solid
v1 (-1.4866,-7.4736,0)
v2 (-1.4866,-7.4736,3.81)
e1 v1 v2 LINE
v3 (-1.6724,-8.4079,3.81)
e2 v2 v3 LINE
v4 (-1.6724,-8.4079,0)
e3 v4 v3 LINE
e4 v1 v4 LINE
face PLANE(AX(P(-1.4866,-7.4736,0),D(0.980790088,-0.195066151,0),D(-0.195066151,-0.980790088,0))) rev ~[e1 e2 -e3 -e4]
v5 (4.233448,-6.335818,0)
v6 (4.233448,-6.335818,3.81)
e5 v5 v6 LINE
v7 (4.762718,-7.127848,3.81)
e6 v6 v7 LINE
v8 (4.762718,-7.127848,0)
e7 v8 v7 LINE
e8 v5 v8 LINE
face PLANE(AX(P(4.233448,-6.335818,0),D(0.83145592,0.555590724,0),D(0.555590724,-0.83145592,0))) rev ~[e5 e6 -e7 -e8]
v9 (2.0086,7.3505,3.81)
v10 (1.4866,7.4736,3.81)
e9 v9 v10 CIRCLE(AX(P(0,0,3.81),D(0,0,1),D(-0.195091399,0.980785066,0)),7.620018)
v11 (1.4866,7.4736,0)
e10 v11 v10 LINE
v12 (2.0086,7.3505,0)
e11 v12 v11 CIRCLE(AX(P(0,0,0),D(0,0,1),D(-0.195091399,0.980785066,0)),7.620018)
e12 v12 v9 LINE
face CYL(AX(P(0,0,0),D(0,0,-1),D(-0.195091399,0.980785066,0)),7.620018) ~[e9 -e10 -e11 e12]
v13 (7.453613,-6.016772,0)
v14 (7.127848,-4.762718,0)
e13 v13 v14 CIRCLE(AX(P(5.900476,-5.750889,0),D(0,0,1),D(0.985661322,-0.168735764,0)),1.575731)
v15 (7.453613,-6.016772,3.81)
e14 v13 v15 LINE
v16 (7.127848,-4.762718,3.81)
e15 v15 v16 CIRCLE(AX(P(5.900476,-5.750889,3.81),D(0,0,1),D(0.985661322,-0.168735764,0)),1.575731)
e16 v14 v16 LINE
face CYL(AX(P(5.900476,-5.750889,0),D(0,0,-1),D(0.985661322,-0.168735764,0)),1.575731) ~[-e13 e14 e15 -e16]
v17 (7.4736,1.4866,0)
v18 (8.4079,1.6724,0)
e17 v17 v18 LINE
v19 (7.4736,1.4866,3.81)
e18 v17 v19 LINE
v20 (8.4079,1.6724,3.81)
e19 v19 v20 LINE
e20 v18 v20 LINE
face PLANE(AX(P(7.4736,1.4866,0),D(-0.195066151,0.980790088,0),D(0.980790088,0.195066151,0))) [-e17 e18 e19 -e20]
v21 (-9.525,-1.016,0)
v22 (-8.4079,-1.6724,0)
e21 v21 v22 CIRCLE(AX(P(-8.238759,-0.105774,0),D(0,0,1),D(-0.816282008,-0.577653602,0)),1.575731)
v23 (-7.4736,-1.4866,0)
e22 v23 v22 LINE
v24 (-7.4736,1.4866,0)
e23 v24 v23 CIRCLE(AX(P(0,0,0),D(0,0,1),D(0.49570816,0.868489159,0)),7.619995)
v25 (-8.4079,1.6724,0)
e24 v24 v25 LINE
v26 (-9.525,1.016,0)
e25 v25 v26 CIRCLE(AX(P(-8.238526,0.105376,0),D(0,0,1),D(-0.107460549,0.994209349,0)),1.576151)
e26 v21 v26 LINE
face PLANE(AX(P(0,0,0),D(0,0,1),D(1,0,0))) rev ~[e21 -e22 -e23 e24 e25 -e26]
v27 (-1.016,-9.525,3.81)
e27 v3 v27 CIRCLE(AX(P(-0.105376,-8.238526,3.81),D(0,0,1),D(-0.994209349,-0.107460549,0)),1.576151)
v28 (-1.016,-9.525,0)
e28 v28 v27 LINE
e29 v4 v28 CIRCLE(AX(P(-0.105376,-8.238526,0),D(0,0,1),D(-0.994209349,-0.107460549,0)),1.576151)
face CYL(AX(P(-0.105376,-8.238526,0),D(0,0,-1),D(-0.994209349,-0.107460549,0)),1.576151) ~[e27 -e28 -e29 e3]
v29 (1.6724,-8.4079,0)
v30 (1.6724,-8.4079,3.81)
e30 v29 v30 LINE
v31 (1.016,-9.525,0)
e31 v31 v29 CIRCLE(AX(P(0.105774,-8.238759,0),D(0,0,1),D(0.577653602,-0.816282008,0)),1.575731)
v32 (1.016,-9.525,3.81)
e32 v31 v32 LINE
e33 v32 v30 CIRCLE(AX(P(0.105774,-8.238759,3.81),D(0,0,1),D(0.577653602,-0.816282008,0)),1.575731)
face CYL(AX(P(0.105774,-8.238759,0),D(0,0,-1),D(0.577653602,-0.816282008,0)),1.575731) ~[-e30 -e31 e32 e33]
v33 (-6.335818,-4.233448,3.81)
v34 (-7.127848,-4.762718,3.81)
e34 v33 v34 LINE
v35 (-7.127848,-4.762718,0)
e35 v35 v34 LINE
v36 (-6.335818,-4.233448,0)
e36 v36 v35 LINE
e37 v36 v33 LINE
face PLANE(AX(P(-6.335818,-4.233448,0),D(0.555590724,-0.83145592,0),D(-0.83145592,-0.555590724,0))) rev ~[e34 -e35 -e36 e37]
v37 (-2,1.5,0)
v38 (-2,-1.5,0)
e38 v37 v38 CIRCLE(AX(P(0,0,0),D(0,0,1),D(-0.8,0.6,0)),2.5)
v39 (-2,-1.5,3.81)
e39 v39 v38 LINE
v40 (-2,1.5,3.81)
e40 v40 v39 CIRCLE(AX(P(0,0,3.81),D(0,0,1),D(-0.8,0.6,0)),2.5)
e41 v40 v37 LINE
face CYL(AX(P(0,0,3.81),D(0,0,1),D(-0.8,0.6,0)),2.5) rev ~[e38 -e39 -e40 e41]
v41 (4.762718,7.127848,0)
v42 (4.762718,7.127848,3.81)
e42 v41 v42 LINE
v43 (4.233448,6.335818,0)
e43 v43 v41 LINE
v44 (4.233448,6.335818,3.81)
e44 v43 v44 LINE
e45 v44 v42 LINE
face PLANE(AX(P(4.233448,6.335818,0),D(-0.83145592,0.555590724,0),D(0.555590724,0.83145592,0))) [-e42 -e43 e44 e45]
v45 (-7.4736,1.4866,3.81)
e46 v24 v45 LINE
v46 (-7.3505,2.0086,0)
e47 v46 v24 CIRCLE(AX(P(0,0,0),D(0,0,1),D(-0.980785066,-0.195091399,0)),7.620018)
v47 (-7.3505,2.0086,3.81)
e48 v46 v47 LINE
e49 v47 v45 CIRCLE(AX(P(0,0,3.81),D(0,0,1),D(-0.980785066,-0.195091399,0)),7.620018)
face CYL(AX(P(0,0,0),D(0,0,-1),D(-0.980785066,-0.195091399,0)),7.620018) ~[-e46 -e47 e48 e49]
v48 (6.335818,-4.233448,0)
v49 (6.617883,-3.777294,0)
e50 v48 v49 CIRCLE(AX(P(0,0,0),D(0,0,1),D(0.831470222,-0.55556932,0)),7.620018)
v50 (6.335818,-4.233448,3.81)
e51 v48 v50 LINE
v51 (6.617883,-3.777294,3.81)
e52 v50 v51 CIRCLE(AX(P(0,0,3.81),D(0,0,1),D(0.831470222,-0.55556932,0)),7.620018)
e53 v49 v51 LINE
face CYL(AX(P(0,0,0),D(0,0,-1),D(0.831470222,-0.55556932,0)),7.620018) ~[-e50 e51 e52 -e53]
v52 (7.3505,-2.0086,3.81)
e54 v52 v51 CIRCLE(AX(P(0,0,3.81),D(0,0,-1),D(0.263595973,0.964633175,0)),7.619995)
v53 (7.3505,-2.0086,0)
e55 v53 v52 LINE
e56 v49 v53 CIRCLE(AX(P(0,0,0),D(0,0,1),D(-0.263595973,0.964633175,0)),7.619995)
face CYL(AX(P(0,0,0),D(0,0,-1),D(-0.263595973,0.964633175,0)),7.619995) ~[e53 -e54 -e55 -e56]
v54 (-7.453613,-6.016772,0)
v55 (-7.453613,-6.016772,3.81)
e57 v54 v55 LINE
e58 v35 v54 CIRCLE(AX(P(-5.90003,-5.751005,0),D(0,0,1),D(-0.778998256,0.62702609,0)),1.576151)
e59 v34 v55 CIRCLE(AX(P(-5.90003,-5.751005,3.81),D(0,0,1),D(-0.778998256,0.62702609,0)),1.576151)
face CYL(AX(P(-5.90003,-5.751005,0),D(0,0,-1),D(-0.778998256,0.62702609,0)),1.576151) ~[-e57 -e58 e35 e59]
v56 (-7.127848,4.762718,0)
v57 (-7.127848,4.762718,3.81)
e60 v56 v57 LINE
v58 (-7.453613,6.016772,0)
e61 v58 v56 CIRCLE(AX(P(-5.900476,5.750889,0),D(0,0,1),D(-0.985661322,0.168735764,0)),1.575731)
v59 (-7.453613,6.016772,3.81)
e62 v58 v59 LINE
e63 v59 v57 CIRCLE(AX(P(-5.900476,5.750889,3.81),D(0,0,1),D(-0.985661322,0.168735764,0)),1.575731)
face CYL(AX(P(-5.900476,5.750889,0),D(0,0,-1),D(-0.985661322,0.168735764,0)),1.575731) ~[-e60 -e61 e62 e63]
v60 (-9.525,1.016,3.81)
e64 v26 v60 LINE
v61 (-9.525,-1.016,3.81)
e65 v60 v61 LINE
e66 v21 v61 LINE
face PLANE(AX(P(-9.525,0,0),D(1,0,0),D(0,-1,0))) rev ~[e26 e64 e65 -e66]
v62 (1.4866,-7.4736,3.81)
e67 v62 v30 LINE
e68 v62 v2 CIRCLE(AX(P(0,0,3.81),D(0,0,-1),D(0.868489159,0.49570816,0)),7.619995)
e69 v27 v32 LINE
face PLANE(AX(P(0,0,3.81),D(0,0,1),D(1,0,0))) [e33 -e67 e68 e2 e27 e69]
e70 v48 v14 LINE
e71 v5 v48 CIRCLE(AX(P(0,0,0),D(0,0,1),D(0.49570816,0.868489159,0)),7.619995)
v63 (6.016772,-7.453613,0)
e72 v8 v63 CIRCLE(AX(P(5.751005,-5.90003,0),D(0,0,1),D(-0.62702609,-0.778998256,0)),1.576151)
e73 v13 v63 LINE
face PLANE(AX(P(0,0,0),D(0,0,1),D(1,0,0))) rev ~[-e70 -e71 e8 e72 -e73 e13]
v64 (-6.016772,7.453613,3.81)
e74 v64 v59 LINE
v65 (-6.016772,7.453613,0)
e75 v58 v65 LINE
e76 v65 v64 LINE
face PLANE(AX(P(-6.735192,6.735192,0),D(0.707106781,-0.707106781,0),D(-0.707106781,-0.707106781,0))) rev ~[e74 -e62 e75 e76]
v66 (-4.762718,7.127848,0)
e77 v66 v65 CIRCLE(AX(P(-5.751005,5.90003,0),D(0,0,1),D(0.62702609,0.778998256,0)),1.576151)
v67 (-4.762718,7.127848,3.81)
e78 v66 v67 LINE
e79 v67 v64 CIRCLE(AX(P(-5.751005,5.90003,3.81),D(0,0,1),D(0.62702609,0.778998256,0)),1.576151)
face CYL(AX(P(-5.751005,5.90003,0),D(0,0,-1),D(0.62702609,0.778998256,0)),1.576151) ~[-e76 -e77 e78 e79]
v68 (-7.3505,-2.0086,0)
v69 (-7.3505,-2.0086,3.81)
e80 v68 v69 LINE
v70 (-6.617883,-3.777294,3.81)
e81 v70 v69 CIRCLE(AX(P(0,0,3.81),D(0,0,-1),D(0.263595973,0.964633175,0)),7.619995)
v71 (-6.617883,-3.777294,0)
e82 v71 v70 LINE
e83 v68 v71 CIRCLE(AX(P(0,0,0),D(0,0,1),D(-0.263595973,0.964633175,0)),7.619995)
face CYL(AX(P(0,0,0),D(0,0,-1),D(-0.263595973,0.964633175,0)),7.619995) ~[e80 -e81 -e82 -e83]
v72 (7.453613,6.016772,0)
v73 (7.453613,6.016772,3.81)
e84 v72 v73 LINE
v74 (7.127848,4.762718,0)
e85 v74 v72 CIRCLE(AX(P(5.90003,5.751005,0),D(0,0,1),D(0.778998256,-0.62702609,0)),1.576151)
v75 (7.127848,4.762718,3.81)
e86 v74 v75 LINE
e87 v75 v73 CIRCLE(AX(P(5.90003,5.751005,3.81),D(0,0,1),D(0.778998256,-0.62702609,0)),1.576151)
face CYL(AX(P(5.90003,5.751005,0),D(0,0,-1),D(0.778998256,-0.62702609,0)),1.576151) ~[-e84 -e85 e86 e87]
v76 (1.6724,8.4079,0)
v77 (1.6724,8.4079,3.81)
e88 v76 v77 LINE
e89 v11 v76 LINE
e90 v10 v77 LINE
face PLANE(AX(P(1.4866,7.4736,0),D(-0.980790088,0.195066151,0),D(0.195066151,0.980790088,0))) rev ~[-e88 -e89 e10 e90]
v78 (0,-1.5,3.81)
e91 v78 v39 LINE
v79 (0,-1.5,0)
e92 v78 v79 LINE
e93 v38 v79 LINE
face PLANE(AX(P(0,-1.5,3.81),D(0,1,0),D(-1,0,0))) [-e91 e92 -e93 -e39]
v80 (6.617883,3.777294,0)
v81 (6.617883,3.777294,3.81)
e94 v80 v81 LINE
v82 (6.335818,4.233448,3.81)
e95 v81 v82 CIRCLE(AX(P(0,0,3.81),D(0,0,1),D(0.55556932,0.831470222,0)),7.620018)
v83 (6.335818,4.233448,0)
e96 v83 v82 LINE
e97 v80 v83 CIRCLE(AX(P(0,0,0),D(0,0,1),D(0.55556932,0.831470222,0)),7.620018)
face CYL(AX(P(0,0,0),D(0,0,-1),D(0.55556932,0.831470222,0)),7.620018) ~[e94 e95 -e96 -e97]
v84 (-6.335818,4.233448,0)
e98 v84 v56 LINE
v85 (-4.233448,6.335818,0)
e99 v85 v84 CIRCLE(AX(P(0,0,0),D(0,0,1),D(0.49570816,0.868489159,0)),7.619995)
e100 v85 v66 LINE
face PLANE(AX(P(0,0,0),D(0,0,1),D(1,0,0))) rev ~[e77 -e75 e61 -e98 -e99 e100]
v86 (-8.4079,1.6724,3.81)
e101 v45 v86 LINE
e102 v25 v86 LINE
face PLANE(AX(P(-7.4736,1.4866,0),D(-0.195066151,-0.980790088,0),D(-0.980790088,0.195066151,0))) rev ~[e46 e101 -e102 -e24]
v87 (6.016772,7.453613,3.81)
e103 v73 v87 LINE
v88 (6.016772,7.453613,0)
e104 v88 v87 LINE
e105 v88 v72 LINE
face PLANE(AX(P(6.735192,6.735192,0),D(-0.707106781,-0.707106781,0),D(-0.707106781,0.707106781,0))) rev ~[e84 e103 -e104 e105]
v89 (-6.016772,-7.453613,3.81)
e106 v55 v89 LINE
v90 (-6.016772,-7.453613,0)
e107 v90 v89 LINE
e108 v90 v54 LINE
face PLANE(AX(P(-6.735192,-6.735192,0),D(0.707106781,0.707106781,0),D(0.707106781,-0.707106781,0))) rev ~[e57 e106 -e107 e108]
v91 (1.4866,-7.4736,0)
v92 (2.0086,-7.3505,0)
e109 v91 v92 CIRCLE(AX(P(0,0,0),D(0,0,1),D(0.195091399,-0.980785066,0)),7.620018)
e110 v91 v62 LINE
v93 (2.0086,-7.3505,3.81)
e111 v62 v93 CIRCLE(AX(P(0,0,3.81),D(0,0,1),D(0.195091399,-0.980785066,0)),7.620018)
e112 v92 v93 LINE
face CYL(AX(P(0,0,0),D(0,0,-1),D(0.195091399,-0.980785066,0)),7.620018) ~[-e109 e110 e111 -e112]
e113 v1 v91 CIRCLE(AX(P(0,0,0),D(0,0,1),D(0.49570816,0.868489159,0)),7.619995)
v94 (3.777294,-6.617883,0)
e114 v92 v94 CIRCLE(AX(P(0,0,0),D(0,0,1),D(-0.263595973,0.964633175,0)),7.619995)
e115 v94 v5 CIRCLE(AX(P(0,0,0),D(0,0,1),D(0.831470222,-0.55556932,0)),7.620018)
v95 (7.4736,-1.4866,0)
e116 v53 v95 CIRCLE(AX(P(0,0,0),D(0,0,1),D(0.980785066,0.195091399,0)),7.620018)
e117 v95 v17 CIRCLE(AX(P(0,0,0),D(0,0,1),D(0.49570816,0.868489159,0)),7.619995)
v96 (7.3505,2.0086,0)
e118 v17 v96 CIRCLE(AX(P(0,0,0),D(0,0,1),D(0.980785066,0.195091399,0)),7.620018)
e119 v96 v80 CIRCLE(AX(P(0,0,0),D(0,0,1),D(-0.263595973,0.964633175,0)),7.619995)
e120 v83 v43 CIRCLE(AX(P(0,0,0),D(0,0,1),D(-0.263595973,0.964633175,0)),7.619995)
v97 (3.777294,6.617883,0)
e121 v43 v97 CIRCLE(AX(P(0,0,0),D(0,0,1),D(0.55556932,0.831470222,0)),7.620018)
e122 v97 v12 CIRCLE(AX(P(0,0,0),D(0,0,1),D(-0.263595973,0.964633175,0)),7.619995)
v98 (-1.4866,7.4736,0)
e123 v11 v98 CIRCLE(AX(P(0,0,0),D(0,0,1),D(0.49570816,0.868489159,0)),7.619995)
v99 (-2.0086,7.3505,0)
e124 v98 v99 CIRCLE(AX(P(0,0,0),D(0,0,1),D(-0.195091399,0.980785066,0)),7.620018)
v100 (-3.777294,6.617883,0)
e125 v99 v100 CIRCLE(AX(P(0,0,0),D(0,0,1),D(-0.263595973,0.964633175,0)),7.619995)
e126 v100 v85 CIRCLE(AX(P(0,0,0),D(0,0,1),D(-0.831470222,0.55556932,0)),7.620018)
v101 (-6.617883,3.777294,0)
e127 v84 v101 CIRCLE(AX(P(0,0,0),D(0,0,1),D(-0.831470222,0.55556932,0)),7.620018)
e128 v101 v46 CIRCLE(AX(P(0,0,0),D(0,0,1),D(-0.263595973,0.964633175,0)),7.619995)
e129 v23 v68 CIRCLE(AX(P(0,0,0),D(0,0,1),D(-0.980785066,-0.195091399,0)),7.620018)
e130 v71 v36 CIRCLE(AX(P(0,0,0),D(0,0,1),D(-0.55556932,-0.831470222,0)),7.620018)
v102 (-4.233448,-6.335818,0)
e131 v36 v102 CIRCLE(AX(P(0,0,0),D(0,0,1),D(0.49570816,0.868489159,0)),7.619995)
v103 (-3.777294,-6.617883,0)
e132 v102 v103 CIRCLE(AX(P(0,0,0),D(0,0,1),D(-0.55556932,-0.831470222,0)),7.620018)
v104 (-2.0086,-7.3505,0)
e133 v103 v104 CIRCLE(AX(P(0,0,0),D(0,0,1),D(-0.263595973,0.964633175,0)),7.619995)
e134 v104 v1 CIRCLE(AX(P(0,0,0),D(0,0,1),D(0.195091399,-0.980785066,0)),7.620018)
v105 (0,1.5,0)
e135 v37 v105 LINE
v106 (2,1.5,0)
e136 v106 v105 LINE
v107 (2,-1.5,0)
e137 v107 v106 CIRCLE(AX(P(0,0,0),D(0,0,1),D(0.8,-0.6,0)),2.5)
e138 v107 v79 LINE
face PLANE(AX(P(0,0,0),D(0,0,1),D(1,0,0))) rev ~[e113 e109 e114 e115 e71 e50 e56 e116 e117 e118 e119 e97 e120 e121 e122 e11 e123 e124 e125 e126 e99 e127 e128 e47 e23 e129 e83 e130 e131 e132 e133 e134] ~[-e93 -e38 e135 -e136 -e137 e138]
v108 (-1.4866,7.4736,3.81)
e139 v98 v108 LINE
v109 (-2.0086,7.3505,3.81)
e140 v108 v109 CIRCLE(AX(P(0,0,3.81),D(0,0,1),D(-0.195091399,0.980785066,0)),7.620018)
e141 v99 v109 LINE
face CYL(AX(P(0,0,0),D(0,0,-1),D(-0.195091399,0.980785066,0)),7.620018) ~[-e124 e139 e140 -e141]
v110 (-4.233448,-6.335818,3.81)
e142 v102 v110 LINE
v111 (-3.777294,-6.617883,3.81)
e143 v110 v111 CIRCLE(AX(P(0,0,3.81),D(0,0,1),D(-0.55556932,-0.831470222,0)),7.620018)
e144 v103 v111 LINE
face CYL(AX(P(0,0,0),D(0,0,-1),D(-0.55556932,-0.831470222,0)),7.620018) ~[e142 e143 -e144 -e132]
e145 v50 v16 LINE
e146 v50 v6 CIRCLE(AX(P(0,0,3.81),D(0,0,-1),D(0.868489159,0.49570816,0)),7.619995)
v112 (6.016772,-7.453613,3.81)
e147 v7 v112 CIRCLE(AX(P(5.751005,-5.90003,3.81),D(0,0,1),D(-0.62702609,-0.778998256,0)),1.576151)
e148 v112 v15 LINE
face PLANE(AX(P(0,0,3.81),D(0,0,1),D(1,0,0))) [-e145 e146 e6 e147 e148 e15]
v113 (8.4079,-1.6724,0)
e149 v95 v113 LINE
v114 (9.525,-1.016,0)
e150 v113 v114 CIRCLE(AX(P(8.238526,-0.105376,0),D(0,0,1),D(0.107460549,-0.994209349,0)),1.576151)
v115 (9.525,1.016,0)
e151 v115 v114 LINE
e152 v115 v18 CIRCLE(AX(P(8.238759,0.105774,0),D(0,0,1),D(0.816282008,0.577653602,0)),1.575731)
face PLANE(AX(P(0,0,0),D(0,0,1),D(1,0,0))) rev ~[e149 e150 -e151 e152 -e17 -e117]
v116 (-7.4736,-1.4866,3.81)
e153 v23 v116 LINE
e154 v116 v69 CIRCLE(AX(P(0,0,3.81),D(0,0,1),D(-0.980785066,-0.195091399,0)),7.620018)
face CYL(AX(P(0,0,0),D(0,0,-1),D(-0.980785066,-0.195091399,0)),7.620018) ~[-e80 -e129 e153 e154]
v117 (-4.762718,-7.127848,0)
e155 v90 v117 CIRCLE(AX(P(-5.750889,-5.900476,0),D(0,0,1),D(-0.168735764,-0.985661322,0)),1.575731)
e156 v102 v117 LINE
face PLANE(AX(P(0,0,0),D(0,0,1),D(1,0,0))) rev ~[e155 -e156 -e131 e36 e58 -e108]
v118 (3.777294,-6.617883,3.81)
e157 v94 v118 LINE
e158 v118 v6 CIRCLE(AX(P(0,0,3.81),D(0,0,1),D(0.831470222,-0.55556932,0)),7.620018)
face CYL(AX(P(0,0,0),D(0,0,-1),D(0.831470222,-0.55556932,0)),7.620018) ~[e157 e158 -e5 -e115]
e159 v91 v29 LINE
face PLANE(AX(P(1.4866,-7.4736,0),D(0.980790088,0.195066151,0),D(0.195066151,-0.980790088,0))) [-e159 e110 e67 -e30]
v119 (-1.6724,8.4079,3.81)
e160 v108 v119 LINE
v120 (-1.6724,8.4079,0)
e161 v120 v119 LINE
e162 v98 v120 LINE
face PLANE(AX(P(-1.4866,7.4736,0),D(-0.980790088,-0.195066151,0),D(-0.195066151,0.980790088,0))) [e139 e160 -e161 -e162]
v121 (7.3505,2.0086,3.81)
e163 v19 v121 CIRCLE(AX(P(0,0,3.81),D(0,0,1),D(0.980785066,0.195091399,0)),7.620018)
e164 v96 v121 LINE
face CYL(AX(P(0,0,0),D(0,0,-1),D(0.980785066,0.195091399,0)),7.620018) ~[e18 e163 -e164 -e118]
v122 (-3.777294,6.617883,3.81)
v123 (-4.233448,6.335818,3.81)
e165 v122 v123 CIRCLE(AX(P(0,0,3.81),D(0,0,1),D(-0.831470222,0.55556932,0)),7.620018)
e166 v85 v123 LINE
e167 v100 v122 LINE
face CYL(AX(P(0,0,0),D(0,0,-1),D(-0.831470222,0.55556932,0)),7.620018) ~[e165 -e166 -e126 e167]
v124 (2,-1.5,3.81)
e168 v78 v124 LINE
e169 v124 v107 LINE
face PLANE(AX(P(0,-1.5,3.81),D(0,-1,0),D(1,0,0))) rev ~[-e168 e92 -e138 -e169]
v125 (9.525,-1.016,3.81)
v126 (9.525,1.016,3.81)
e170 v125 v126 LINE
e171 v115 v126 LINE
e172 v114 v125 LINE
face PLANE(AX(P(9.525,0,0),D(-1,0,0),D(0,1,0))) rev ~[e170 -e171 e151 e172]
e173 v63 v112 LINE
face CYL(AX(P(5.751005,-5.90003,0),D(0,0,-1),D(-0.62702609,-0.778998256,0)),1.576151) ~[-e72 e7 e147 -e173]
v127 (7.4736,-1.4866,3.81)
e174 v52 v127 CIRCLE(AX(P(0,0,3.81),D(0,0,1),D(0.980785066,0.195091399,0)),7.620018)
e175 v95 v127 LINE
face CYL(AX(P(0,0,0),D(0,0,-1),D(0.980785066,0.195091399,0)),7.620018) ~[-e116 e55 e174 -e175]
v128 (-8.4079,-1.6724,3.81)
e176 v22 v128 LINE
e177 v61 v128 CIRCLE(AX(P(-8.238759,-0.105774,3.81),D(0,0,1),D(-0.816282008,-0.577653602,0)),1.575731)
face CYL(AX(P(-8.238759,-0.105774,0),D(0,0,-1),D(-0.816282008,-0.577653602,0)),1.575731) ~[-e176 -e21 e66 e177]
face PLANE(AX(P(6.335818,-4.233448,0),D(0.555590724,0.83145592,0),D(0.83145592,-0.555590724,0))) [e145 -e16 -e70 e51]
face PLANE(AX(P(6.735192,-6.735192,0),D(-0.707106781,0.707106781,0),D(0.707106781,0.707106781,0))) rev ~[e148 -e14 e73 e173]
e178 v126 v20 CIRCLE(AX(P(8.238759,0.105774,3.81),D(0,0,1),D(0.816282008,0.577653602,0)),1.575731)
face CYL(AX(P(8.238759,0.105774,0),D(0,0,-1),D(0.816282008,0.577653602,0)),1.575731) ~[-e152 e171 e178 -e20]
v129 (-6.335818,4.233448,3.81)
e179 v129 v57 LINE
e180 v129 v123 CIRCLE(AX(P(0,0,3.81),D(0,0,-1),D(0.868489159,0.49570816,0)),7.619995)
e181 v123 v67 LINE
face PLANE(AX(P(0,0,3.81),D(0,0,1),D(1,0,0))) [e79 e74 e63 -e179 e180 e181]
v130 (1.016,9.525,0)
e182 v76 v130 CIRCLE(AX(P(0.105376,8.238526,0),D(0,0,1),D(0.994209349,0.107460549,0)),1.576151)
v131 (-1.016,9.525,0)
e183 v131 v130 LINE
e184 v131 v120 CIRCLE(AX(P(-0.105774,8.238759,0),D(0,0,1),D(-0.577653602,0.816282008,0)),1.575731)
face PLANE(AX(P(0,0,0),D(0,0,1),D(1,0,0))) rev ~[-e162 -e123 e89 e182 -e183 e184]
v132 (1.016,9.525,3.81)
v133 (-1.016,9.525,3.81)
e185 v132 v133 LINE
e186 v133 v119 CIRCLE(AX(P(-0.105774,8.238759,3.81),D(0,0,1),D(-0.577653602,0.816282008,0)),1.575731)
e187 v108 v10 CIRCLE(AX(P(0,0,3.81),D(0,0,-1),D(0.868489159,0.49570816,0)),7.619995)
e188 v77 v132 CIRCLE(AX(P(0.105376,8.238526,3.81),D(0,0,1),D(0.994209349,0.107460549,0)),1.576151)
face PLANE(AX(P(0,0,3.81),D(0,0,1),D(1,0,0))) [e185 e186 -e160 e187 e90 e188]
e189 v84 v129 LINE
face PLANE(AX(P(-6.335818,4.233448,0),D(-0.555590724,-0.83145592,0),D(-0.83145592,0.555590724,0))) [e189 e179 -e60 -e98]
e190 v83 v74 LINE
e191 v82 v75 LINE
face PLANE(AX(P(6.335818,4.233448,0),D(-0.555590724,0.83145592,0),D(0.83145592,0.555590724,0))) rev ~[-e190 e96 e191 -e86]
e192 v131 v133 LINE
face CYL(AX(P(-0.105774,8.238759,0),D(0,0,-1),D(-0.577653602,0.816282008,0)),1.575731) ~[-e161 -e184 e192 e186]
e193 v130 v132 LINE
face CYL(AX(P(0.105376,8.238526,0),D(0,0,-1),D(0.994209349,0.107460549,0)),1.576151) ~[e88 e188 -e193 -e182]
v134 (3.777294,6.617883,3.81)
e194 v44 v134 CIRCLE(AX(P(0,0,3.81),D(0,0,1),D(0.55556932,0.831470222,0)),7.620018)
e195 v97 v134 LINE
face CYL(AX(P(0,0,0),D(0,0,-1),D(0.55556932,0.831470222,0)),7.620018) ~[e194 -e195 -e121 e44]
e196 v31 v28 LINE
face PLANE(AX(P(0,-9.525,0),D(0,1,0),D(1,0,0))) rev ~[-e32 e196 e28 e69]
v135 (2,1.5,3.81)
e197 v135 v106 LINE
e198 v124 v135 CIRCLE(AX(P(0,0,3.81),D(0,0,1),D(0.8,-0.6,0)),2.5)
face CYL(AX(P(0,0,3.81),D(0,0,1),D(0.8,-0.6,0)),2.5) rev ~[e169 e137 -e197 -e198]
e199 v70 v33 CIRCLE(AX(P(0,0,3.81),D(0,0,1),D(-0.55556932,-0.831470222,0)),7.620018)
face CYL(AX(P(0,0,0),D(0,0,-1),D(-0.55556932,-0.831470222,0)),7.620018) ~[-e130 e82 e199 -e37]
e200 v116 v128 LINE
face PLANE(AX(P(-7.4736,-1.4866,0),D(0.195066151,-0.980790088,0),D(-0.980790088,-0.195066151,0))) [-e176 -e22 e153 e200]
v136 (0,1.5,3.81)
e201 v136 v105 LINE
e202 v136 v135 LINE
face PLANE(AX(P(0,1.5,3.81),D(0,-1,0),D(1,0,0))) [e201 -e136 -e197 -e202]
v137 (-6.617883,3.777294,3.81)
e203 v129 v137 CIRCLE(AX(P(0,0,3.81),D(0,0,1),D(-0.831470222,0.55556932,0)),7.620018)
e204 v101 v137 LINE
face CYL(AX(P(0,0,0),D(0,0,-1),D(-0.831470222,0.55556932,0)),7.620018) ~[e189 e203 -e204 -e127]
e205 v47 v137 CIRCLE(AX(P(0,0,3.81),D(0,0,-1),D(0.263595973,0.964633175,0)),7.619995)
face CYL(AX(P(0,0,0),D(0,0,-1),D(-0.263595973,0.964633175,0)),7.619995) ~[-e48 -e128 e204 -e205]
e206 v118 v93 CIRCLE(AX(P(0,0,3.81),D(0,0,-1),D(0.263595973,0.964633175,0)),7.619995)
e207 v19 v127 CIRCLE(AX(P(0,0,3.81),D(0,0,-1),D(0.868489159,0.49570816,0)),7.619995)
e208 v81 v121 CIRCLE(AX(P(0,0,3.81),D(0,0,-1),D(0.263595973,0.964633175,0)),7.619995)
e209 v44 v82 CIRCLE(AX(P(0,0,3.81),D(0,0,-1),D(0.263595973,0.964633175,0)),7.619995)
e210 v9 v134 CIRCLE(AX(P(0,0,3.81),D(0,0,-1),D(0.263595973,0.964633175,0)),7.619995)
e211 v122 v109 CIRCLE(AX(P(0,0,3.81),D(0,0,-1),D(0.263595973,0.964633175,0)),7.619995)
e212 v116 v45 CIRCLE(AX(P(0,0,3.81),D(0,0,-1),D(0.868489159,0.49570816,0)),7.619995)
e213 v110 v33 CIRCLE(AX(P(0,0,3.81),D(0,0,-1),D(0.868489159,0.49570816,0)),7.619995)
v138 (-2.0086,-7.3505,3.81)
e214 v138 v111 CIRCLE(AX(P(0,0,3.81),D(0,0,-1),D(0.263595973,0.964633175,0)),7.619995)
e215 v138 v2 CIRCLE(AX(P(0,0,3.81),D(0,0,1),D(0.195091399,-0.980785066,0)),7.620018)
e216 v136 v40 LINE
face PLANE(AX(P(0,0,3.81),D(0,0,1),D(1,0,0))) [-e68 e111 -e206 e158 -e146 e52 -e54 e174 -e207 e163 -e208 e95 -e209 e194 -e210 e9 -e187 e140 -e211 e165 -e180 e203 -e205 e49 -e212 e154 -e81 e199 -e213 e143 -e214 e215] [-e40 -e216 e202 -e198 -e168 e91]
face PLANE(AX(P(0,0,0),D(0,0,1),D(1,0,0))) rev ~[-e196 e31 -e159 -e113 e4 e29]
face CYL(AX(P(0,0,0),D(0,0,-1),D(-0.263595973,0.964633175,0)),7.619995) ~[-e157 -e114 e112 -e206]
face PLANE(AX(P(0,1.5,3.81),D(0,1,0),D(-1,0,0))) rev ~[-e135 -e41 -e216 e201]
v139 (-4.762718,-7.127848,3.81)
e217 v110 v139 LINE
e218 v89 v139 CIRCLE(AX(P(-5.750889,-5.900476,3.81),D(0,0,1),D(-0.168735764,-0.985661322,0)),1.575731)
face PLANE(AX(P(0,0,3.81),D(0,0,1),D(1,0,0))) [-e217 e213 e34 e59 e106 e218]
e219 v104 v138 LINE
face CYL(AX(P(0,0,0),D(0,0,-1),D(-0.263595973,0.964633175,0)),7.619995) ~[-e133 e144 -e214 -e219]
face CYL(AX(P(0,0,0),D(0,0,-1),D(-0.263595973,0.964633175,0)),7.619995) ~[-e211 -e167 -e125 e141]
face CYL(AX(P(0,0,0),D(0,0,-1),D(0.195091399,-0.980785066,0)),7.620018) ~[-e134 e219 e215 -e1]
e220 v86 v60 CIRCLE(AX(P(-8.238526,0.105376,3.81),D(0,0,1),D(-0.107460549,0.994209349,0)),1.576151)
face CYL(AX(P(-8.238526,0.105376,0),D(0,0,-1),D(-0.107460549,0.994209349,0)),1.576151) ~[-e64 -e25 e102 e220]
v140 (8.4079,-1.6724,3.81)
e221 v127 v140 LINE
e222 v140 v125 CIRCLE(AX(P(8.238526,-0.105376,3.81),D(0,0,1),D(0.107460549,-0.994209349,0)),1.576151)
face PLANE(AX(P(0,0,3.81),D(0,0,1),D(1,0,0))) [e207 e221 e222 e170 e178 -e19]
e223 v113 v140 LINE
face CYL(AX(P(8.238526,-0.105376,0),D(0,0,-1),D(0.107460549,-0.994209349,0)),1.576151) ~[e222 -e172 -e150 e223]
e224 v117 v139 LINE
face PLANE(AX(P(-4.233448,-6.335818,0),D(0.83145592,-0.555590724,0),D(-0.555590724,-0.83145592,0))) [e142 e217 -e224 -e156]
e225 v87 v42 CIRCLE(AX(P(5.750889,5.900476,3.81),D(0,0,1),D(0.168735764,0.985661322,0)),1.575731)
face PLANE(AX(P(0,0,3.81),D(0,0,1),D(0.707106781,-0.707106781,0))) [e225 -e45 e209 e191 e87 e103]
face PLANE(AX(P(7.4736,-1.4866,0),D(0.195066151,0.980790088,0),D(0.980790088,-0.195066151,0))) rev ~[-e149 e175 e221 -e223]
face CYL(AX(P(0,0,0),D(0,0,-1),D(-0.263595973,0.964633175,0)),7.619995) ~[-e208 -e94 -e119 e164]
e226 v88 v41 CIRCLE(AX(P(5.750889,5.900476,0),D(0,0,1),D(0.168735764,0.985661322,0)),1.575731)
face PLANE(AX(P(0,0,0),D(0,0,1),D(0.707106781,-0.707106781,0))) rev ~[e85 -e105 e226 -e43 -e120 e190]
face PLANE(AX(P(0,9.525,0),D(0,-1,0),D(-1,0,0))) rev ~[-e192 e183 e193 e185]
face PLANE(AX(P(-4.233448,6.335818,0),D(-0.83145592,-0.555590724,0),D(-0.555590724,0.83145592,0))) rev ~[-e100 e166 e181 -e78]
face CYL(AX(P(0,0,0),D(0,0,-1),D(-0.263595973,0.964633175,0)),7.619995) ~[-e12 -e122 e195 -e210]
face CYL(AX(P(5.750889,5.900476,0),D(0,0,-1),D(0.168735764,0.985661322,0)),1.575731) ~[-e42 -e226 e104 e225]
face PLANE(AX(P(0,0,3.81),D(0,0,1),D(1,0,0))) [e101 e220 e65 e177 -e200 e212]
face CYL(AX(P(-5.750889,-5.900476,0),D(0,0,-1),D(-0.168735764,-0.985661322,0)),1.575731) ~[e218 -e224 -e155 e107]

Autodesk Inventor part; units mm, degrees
ref_plane "YZ Plane" through (0, 0, 0) normal (1, 0, 0) x (0, 1, 0)
ref_plane "XZ Plane" through (0, 0, 0) normal (0, 1, 0) x (-1, 0, 0)
ref_plane "XY Plane" through (0, 0, 0) normal (0, 0, 1) x (1, 0, 0)
sketch "Sketch1" plane through (0, 0, 0) normal (0, 0, 1) x (1, 0, 0)
  arc A0 (-2.0086, 7.3505) -> (2.0086, 7.3505) centre (0, 0) ccw
  line L0 (0, 7.62) -> (0, 9.525)
  line L1 (0, 9.525) -> (1.016, 9.525)
  line L2 (0, 9.525) -> (-1.016, 9.525)
  arc A1 (-1.4866, 7.4736) -> (1.4866, 7.4736) centre (0, 0) ccw
  line L3 (-1.4866, 7.4736) -> (-1.8582, 9.342)
  line L4 (-2.916, 7.04) -> (-3.6451, 8.8)
  line L5 (-4.2334, 6.3358) -> (-5.2918, 7.9197)
  line L6 (-5.3882, 5.3882) -> (-6.7352, 6.7352)
  line L7 (-6.3358, 4.2334) -> (-7.9197, 5.2918)
  line L8 (-7.04, 2.916) -> (-8.8, 3.6451)
  line L9 (-7.04, -2.916) -> (-8.8, -3.6451)
  line L10 (-6.3358, -4.2334) -> (-7.9197, -5.2918)
  line L11 (-5.3882, -5.3882) -> (-6.7352, -6.7352)
  line L12 (-4.2334, -6.3358) -> (-5.2918, -7.9197)
  line L13 (-2.916, -7.04) -> (-3.6451, -8.8)
  line L14 (-1.4866, -7.4736) -> (-1.8582, -9.342)
  line L15 (0, -7.62) -> (0, -9.525)
  line L16 (1.4866, -7.4736) -> (1.8582, -9.342)
  line L17 (2.916, -7.04) -> (3.6451, -8.8)
  line L18 (4.2334, -6.3358) -> (5.2918, -7.9197)
  line L19 (5.3882, -5.3882) -> (6.7352, -6.7352)
  line L20 (6.3358, -4.2334) -> (7.9197, -5.2918)
  line L21 (7.04, -2.916) -> (8.8, -3.6451)
  line L22 (7.4736, -1.4866) -> (9.342, -1.8582)
  line L23 (7.62, 0) -> (9.525, 0)
  line L24 (7.4736, 1.4866) -> (9.342, 1.8582)
  line L25 (7.04, 2.916) -> (8.8, 3.6451)
  line L26 (6.3358, 4.2334) -> (7.9197, 5.2918)
  line L27 (5.3882, 5.3882) -> (6.7352, 6.7352)
  line L28 (4.2334, 6.3358) -> (5.2918, 7.9197)
  line L29 (2.916, 7.04) -> (3.6451, 8.8)
  line L30 (1.4866, 7.4736) -> (1.8582, 9.342)
  arc A2 (-1.4866, 7.4736) -> (1.4866, 7.4736) centre (0, 0) ccw
  arc A3 (-1.016, 9.525) -> (-1.6724, 8.4079) centre (-0.1056, 8.2386) ccw
  arc A4 (1.6724, 8.4079) -> (1.016, 9.525) centre (0.1056, 8.2386) ccw
  circle A5 centre (0, 0) radius 7.62
  line L31 (-1.4866, 7.4736) -> (-1.6724, 8.4079)
  line L32 (-1.016, 9.525) -> (1.016, 9.525)
  line L33 (1.6724, 8.4079) -> (1.4866, 7.4736)
  arc A6 (-1.016, 9.525) -> (-1.6724, 8.4079) centre (-0.1056, 8.2386) ccw
  arc A7 (1.6724, 8.4079) -> (1.016, 9.525) centre (0.1056, 8.2386) ccw
  point P0 (-7.4736, 1.4866)
  point P1 (-7.62, 0)
  point P2 (-7.4736, -1.4866)
  dimension "d0" = 15.24
  dimension "d1" = 360
  dimension "d2" = 1.016
  dimension "d3" = 1.016
  dimension "d4" = 1.905
extrude "Extrusion1" add sketch "Sketch1" along normal blind 3.81
pattern_circular "Circular Pattern1" count 8 over 360 about axis through (0, 0, 0) along (0, 0, 1) of "Extrusion1"
sketch "Sketch3" plane through (0, 0, 3.81) normal (0, 0, 1) x (1, 0, 0)
  line L0 (0, 0) -> (0, 1.5)
  line L1 (0, 1.5) -> (2, 1.5)
  line L2 (0, 1.5) -> (-2, 1.5)
  line L3 (0, 0) -> (0.1755, 0)
  line L4 (0, -1.5) -> (2, -1.5)
  line L5 (0, -1.5) -> (-2, -1.5)
  arc A0 (-2, 1.5) -> (-2, -1.5) centre (0, 0) ccw
  arc A1 (2, -1.5) -> (2, 1.5) centre (0, 0) ccw
  dimension "d14" = 1.5
extrude "Extrusion3" cut sketch "Sketch3" against normal up to next
sketch "Sketch4" plane through (0, 0, 3.81) normal (0, 0, 1) x (1, 0, 0)
  circle A0 centre (0, 0) radius 2.5
sketch "Sketch5" plane through (0, 0, 3.81) normal (0, 0, 1) x (1, 0, 0)
  arc A0 (-2, 1.5) -> (-2, -1.5) centre (0, 0) ccw projected
  line L0 (-2, 1.5) -> (2, 1.5) projected
  arc A1 (2, -1.5) -> (2, 1.5) centre (0, 0) ccw projected
  line L1 (2, -1.5) -> (-2, -1.5) projected
  line L2 (1.4866, 7.4736) -> (1.6724, 8.4079) projected
  arc A2 (1.6724, 8.4079) -> (1.016, 9.525) centre (0.1056, 8.2386) ccw projected
  line L3 (1.016, 9.525) -> (-1.016, 9.525) projected
  arc A3 (-1.016, 9.525) -> (-1.6724, 8.4079) centre (-0.1056, 8.2386) ccw projected
  line L4 (-1.6724, 8.4079) -> (-1.4866, 7.4736) projected
  arc A4 (-1.4866, 7.4736) -> (-4.2334, 6.3358) centre (0, 0) ccw projected
  line L5 (-4.2334, 6.3358) -> (-4.7627, 7.1279) projected
  arc A5 (-4.7627, 7.1279) -> (-6.0168, 7.4536) centre (-5.7509, 5.9002) ccw projected
  line L6 (-6.0168, 7.4536) -> (-7.4536, 6.0168) projected
  arc A6 (-7.4536, 6.0168) -> (-7.1279, 4.7627) centre (-5.9002, 5.7509) ccw projected
  line L7 (-7.1279, 4.7627) -> (-6.3358, 4.2334) projected
  arc A7 (-6.3358, 4.2334) -> (-7.4736, 1.4866) centre (0, 0) ccw projected
  line L8 (-7.4736, 1.4866) -> (-8.4079, 1.6724) projected
  arc A8 (-8.4079, 1.6724) -> (-9.525, 1.016) centre (-8.2386, 0.1056) ccw projected
  line L9 (-9.525, 1.016) -> (-9.525, -1.016) projected
  arc A9 (-9.525, -1.016) -> (-8.4079, -1.6724) centre (-8.2386, -0.1056) ccw projected
  line L10 (-8.4079, -1.6724) -> (-7.4736, -1.4866) projected
  arc A10 (-7.4736, -1.4866) -> (-6.3358, -4.2334) centre (0, 0) ccw projected
  line L11 (-6.3358, -4.2334) -> (-7.1279, -4.7627) projected
  arc A11 (-7.1279, -4.7627) -> (-7.4536, -6.0168) centre (-5.9002, -5.7509) ccw projected
  line L12 (-7.4536, -6.0168) -> (-6.0168, -7.4536) projected
  arc A12 (-6.0168, -7.4536) -> (-4.7627, -7.1279) centre (-5.7509, -5.9002) ccw projected
  line L13 (-4.7627, -7.1279) -> (-4.2334, -6.3358) projected
  arc A13 (-4.2334, -6.3358) -> (-1.4866, -7.4736) centre (0, 0) ccw projected
  line L14 (-1.4866, -7.4736) -> (-1.6724, -8.4079) projected
  arc A14 (-1.6724, -8.4079) -> (-1.016, -9.525) centre (-0.1056, -8.2386) ccw projected
  line L15 (-1.016, -9.525) -> (1.016, -9.525) projected
  arc A15 (1.016, -9.525) -> (1.6724, -8.4079) centre (0.1056, -8.2386) ccw projected
  line L16 (1.6724, -8.4079) -> (1.4866, -7.4736) projected
  arc A16 (1.4866, -7.4736) -> (4.2334, -6.3358) centre (0, 0) ccw projected
  line L17 (4.2334, -6.3358) -> (4.7627, -7.1279) projected
  arc A17 (4.7627, -7.1279) -> (6.0168, -7.4536) centre (5.7509, -5.9002) ccw projected
  line L18 (6.0168, -7.4536) -> (7.4536, -6.0168) projected
  arc A18 (7.4536, -6.0168) -> (7.1279, -4.7627) centre (5.9002, -5.7509) ccw projected
  line L19 (7.1279, -4.7627) -> (6.3358, -4.2334) projected
  arc A19 (6.3358, -4.2334) -> (7.4736, -1.4866) centre (0, 0) ccw projected
  line L20 (7.4736, -1.4866) -> (8.4079, -1.6724) projected
  arc A20 (8.4079, -1.6724) -> (9.525, -1.016) centre (8.2386, -0.1056) ccw projected
  line L21 (9.525, -1.016) -> (9.525, 1.016) projected
  arc A21 (9.525, 1.016) -> (8.4079, 1.6724) centre (8.2386, 0.1056) ccw projected
  line L22 (8.4079, 1.6724) -> (7.4736, 1.4866) projected
  arc A22 (7.4736, 1.4866) -> (6.3358, 4.2334) centre (0, 0) ccw projected
  line L23 (6.3358, 4.2334) -> (7.1279, 4.7627) projected
  arc A23 (7.1279, 4.7627) -> (7.4536, 6.0168) centre (5.9002, 5.7509) ccw projected
  line L24 (7.4536, 6.0168) -> (6.0168, 7.4536) projected
  arc A24 (6.0168, 7.4536) -> (4.7627, 7.1279) centre (5.7509, 5.9002) ccw projected
  line L25 (4.7627, 7.1279) -> (4.2334, 6.3358) projected
  arc A25 (4.2334, 6.3358) -> (1.4866, 7.4736) centre (0, 0) ccw projected
properties part number "8 ul Driver Gear"
